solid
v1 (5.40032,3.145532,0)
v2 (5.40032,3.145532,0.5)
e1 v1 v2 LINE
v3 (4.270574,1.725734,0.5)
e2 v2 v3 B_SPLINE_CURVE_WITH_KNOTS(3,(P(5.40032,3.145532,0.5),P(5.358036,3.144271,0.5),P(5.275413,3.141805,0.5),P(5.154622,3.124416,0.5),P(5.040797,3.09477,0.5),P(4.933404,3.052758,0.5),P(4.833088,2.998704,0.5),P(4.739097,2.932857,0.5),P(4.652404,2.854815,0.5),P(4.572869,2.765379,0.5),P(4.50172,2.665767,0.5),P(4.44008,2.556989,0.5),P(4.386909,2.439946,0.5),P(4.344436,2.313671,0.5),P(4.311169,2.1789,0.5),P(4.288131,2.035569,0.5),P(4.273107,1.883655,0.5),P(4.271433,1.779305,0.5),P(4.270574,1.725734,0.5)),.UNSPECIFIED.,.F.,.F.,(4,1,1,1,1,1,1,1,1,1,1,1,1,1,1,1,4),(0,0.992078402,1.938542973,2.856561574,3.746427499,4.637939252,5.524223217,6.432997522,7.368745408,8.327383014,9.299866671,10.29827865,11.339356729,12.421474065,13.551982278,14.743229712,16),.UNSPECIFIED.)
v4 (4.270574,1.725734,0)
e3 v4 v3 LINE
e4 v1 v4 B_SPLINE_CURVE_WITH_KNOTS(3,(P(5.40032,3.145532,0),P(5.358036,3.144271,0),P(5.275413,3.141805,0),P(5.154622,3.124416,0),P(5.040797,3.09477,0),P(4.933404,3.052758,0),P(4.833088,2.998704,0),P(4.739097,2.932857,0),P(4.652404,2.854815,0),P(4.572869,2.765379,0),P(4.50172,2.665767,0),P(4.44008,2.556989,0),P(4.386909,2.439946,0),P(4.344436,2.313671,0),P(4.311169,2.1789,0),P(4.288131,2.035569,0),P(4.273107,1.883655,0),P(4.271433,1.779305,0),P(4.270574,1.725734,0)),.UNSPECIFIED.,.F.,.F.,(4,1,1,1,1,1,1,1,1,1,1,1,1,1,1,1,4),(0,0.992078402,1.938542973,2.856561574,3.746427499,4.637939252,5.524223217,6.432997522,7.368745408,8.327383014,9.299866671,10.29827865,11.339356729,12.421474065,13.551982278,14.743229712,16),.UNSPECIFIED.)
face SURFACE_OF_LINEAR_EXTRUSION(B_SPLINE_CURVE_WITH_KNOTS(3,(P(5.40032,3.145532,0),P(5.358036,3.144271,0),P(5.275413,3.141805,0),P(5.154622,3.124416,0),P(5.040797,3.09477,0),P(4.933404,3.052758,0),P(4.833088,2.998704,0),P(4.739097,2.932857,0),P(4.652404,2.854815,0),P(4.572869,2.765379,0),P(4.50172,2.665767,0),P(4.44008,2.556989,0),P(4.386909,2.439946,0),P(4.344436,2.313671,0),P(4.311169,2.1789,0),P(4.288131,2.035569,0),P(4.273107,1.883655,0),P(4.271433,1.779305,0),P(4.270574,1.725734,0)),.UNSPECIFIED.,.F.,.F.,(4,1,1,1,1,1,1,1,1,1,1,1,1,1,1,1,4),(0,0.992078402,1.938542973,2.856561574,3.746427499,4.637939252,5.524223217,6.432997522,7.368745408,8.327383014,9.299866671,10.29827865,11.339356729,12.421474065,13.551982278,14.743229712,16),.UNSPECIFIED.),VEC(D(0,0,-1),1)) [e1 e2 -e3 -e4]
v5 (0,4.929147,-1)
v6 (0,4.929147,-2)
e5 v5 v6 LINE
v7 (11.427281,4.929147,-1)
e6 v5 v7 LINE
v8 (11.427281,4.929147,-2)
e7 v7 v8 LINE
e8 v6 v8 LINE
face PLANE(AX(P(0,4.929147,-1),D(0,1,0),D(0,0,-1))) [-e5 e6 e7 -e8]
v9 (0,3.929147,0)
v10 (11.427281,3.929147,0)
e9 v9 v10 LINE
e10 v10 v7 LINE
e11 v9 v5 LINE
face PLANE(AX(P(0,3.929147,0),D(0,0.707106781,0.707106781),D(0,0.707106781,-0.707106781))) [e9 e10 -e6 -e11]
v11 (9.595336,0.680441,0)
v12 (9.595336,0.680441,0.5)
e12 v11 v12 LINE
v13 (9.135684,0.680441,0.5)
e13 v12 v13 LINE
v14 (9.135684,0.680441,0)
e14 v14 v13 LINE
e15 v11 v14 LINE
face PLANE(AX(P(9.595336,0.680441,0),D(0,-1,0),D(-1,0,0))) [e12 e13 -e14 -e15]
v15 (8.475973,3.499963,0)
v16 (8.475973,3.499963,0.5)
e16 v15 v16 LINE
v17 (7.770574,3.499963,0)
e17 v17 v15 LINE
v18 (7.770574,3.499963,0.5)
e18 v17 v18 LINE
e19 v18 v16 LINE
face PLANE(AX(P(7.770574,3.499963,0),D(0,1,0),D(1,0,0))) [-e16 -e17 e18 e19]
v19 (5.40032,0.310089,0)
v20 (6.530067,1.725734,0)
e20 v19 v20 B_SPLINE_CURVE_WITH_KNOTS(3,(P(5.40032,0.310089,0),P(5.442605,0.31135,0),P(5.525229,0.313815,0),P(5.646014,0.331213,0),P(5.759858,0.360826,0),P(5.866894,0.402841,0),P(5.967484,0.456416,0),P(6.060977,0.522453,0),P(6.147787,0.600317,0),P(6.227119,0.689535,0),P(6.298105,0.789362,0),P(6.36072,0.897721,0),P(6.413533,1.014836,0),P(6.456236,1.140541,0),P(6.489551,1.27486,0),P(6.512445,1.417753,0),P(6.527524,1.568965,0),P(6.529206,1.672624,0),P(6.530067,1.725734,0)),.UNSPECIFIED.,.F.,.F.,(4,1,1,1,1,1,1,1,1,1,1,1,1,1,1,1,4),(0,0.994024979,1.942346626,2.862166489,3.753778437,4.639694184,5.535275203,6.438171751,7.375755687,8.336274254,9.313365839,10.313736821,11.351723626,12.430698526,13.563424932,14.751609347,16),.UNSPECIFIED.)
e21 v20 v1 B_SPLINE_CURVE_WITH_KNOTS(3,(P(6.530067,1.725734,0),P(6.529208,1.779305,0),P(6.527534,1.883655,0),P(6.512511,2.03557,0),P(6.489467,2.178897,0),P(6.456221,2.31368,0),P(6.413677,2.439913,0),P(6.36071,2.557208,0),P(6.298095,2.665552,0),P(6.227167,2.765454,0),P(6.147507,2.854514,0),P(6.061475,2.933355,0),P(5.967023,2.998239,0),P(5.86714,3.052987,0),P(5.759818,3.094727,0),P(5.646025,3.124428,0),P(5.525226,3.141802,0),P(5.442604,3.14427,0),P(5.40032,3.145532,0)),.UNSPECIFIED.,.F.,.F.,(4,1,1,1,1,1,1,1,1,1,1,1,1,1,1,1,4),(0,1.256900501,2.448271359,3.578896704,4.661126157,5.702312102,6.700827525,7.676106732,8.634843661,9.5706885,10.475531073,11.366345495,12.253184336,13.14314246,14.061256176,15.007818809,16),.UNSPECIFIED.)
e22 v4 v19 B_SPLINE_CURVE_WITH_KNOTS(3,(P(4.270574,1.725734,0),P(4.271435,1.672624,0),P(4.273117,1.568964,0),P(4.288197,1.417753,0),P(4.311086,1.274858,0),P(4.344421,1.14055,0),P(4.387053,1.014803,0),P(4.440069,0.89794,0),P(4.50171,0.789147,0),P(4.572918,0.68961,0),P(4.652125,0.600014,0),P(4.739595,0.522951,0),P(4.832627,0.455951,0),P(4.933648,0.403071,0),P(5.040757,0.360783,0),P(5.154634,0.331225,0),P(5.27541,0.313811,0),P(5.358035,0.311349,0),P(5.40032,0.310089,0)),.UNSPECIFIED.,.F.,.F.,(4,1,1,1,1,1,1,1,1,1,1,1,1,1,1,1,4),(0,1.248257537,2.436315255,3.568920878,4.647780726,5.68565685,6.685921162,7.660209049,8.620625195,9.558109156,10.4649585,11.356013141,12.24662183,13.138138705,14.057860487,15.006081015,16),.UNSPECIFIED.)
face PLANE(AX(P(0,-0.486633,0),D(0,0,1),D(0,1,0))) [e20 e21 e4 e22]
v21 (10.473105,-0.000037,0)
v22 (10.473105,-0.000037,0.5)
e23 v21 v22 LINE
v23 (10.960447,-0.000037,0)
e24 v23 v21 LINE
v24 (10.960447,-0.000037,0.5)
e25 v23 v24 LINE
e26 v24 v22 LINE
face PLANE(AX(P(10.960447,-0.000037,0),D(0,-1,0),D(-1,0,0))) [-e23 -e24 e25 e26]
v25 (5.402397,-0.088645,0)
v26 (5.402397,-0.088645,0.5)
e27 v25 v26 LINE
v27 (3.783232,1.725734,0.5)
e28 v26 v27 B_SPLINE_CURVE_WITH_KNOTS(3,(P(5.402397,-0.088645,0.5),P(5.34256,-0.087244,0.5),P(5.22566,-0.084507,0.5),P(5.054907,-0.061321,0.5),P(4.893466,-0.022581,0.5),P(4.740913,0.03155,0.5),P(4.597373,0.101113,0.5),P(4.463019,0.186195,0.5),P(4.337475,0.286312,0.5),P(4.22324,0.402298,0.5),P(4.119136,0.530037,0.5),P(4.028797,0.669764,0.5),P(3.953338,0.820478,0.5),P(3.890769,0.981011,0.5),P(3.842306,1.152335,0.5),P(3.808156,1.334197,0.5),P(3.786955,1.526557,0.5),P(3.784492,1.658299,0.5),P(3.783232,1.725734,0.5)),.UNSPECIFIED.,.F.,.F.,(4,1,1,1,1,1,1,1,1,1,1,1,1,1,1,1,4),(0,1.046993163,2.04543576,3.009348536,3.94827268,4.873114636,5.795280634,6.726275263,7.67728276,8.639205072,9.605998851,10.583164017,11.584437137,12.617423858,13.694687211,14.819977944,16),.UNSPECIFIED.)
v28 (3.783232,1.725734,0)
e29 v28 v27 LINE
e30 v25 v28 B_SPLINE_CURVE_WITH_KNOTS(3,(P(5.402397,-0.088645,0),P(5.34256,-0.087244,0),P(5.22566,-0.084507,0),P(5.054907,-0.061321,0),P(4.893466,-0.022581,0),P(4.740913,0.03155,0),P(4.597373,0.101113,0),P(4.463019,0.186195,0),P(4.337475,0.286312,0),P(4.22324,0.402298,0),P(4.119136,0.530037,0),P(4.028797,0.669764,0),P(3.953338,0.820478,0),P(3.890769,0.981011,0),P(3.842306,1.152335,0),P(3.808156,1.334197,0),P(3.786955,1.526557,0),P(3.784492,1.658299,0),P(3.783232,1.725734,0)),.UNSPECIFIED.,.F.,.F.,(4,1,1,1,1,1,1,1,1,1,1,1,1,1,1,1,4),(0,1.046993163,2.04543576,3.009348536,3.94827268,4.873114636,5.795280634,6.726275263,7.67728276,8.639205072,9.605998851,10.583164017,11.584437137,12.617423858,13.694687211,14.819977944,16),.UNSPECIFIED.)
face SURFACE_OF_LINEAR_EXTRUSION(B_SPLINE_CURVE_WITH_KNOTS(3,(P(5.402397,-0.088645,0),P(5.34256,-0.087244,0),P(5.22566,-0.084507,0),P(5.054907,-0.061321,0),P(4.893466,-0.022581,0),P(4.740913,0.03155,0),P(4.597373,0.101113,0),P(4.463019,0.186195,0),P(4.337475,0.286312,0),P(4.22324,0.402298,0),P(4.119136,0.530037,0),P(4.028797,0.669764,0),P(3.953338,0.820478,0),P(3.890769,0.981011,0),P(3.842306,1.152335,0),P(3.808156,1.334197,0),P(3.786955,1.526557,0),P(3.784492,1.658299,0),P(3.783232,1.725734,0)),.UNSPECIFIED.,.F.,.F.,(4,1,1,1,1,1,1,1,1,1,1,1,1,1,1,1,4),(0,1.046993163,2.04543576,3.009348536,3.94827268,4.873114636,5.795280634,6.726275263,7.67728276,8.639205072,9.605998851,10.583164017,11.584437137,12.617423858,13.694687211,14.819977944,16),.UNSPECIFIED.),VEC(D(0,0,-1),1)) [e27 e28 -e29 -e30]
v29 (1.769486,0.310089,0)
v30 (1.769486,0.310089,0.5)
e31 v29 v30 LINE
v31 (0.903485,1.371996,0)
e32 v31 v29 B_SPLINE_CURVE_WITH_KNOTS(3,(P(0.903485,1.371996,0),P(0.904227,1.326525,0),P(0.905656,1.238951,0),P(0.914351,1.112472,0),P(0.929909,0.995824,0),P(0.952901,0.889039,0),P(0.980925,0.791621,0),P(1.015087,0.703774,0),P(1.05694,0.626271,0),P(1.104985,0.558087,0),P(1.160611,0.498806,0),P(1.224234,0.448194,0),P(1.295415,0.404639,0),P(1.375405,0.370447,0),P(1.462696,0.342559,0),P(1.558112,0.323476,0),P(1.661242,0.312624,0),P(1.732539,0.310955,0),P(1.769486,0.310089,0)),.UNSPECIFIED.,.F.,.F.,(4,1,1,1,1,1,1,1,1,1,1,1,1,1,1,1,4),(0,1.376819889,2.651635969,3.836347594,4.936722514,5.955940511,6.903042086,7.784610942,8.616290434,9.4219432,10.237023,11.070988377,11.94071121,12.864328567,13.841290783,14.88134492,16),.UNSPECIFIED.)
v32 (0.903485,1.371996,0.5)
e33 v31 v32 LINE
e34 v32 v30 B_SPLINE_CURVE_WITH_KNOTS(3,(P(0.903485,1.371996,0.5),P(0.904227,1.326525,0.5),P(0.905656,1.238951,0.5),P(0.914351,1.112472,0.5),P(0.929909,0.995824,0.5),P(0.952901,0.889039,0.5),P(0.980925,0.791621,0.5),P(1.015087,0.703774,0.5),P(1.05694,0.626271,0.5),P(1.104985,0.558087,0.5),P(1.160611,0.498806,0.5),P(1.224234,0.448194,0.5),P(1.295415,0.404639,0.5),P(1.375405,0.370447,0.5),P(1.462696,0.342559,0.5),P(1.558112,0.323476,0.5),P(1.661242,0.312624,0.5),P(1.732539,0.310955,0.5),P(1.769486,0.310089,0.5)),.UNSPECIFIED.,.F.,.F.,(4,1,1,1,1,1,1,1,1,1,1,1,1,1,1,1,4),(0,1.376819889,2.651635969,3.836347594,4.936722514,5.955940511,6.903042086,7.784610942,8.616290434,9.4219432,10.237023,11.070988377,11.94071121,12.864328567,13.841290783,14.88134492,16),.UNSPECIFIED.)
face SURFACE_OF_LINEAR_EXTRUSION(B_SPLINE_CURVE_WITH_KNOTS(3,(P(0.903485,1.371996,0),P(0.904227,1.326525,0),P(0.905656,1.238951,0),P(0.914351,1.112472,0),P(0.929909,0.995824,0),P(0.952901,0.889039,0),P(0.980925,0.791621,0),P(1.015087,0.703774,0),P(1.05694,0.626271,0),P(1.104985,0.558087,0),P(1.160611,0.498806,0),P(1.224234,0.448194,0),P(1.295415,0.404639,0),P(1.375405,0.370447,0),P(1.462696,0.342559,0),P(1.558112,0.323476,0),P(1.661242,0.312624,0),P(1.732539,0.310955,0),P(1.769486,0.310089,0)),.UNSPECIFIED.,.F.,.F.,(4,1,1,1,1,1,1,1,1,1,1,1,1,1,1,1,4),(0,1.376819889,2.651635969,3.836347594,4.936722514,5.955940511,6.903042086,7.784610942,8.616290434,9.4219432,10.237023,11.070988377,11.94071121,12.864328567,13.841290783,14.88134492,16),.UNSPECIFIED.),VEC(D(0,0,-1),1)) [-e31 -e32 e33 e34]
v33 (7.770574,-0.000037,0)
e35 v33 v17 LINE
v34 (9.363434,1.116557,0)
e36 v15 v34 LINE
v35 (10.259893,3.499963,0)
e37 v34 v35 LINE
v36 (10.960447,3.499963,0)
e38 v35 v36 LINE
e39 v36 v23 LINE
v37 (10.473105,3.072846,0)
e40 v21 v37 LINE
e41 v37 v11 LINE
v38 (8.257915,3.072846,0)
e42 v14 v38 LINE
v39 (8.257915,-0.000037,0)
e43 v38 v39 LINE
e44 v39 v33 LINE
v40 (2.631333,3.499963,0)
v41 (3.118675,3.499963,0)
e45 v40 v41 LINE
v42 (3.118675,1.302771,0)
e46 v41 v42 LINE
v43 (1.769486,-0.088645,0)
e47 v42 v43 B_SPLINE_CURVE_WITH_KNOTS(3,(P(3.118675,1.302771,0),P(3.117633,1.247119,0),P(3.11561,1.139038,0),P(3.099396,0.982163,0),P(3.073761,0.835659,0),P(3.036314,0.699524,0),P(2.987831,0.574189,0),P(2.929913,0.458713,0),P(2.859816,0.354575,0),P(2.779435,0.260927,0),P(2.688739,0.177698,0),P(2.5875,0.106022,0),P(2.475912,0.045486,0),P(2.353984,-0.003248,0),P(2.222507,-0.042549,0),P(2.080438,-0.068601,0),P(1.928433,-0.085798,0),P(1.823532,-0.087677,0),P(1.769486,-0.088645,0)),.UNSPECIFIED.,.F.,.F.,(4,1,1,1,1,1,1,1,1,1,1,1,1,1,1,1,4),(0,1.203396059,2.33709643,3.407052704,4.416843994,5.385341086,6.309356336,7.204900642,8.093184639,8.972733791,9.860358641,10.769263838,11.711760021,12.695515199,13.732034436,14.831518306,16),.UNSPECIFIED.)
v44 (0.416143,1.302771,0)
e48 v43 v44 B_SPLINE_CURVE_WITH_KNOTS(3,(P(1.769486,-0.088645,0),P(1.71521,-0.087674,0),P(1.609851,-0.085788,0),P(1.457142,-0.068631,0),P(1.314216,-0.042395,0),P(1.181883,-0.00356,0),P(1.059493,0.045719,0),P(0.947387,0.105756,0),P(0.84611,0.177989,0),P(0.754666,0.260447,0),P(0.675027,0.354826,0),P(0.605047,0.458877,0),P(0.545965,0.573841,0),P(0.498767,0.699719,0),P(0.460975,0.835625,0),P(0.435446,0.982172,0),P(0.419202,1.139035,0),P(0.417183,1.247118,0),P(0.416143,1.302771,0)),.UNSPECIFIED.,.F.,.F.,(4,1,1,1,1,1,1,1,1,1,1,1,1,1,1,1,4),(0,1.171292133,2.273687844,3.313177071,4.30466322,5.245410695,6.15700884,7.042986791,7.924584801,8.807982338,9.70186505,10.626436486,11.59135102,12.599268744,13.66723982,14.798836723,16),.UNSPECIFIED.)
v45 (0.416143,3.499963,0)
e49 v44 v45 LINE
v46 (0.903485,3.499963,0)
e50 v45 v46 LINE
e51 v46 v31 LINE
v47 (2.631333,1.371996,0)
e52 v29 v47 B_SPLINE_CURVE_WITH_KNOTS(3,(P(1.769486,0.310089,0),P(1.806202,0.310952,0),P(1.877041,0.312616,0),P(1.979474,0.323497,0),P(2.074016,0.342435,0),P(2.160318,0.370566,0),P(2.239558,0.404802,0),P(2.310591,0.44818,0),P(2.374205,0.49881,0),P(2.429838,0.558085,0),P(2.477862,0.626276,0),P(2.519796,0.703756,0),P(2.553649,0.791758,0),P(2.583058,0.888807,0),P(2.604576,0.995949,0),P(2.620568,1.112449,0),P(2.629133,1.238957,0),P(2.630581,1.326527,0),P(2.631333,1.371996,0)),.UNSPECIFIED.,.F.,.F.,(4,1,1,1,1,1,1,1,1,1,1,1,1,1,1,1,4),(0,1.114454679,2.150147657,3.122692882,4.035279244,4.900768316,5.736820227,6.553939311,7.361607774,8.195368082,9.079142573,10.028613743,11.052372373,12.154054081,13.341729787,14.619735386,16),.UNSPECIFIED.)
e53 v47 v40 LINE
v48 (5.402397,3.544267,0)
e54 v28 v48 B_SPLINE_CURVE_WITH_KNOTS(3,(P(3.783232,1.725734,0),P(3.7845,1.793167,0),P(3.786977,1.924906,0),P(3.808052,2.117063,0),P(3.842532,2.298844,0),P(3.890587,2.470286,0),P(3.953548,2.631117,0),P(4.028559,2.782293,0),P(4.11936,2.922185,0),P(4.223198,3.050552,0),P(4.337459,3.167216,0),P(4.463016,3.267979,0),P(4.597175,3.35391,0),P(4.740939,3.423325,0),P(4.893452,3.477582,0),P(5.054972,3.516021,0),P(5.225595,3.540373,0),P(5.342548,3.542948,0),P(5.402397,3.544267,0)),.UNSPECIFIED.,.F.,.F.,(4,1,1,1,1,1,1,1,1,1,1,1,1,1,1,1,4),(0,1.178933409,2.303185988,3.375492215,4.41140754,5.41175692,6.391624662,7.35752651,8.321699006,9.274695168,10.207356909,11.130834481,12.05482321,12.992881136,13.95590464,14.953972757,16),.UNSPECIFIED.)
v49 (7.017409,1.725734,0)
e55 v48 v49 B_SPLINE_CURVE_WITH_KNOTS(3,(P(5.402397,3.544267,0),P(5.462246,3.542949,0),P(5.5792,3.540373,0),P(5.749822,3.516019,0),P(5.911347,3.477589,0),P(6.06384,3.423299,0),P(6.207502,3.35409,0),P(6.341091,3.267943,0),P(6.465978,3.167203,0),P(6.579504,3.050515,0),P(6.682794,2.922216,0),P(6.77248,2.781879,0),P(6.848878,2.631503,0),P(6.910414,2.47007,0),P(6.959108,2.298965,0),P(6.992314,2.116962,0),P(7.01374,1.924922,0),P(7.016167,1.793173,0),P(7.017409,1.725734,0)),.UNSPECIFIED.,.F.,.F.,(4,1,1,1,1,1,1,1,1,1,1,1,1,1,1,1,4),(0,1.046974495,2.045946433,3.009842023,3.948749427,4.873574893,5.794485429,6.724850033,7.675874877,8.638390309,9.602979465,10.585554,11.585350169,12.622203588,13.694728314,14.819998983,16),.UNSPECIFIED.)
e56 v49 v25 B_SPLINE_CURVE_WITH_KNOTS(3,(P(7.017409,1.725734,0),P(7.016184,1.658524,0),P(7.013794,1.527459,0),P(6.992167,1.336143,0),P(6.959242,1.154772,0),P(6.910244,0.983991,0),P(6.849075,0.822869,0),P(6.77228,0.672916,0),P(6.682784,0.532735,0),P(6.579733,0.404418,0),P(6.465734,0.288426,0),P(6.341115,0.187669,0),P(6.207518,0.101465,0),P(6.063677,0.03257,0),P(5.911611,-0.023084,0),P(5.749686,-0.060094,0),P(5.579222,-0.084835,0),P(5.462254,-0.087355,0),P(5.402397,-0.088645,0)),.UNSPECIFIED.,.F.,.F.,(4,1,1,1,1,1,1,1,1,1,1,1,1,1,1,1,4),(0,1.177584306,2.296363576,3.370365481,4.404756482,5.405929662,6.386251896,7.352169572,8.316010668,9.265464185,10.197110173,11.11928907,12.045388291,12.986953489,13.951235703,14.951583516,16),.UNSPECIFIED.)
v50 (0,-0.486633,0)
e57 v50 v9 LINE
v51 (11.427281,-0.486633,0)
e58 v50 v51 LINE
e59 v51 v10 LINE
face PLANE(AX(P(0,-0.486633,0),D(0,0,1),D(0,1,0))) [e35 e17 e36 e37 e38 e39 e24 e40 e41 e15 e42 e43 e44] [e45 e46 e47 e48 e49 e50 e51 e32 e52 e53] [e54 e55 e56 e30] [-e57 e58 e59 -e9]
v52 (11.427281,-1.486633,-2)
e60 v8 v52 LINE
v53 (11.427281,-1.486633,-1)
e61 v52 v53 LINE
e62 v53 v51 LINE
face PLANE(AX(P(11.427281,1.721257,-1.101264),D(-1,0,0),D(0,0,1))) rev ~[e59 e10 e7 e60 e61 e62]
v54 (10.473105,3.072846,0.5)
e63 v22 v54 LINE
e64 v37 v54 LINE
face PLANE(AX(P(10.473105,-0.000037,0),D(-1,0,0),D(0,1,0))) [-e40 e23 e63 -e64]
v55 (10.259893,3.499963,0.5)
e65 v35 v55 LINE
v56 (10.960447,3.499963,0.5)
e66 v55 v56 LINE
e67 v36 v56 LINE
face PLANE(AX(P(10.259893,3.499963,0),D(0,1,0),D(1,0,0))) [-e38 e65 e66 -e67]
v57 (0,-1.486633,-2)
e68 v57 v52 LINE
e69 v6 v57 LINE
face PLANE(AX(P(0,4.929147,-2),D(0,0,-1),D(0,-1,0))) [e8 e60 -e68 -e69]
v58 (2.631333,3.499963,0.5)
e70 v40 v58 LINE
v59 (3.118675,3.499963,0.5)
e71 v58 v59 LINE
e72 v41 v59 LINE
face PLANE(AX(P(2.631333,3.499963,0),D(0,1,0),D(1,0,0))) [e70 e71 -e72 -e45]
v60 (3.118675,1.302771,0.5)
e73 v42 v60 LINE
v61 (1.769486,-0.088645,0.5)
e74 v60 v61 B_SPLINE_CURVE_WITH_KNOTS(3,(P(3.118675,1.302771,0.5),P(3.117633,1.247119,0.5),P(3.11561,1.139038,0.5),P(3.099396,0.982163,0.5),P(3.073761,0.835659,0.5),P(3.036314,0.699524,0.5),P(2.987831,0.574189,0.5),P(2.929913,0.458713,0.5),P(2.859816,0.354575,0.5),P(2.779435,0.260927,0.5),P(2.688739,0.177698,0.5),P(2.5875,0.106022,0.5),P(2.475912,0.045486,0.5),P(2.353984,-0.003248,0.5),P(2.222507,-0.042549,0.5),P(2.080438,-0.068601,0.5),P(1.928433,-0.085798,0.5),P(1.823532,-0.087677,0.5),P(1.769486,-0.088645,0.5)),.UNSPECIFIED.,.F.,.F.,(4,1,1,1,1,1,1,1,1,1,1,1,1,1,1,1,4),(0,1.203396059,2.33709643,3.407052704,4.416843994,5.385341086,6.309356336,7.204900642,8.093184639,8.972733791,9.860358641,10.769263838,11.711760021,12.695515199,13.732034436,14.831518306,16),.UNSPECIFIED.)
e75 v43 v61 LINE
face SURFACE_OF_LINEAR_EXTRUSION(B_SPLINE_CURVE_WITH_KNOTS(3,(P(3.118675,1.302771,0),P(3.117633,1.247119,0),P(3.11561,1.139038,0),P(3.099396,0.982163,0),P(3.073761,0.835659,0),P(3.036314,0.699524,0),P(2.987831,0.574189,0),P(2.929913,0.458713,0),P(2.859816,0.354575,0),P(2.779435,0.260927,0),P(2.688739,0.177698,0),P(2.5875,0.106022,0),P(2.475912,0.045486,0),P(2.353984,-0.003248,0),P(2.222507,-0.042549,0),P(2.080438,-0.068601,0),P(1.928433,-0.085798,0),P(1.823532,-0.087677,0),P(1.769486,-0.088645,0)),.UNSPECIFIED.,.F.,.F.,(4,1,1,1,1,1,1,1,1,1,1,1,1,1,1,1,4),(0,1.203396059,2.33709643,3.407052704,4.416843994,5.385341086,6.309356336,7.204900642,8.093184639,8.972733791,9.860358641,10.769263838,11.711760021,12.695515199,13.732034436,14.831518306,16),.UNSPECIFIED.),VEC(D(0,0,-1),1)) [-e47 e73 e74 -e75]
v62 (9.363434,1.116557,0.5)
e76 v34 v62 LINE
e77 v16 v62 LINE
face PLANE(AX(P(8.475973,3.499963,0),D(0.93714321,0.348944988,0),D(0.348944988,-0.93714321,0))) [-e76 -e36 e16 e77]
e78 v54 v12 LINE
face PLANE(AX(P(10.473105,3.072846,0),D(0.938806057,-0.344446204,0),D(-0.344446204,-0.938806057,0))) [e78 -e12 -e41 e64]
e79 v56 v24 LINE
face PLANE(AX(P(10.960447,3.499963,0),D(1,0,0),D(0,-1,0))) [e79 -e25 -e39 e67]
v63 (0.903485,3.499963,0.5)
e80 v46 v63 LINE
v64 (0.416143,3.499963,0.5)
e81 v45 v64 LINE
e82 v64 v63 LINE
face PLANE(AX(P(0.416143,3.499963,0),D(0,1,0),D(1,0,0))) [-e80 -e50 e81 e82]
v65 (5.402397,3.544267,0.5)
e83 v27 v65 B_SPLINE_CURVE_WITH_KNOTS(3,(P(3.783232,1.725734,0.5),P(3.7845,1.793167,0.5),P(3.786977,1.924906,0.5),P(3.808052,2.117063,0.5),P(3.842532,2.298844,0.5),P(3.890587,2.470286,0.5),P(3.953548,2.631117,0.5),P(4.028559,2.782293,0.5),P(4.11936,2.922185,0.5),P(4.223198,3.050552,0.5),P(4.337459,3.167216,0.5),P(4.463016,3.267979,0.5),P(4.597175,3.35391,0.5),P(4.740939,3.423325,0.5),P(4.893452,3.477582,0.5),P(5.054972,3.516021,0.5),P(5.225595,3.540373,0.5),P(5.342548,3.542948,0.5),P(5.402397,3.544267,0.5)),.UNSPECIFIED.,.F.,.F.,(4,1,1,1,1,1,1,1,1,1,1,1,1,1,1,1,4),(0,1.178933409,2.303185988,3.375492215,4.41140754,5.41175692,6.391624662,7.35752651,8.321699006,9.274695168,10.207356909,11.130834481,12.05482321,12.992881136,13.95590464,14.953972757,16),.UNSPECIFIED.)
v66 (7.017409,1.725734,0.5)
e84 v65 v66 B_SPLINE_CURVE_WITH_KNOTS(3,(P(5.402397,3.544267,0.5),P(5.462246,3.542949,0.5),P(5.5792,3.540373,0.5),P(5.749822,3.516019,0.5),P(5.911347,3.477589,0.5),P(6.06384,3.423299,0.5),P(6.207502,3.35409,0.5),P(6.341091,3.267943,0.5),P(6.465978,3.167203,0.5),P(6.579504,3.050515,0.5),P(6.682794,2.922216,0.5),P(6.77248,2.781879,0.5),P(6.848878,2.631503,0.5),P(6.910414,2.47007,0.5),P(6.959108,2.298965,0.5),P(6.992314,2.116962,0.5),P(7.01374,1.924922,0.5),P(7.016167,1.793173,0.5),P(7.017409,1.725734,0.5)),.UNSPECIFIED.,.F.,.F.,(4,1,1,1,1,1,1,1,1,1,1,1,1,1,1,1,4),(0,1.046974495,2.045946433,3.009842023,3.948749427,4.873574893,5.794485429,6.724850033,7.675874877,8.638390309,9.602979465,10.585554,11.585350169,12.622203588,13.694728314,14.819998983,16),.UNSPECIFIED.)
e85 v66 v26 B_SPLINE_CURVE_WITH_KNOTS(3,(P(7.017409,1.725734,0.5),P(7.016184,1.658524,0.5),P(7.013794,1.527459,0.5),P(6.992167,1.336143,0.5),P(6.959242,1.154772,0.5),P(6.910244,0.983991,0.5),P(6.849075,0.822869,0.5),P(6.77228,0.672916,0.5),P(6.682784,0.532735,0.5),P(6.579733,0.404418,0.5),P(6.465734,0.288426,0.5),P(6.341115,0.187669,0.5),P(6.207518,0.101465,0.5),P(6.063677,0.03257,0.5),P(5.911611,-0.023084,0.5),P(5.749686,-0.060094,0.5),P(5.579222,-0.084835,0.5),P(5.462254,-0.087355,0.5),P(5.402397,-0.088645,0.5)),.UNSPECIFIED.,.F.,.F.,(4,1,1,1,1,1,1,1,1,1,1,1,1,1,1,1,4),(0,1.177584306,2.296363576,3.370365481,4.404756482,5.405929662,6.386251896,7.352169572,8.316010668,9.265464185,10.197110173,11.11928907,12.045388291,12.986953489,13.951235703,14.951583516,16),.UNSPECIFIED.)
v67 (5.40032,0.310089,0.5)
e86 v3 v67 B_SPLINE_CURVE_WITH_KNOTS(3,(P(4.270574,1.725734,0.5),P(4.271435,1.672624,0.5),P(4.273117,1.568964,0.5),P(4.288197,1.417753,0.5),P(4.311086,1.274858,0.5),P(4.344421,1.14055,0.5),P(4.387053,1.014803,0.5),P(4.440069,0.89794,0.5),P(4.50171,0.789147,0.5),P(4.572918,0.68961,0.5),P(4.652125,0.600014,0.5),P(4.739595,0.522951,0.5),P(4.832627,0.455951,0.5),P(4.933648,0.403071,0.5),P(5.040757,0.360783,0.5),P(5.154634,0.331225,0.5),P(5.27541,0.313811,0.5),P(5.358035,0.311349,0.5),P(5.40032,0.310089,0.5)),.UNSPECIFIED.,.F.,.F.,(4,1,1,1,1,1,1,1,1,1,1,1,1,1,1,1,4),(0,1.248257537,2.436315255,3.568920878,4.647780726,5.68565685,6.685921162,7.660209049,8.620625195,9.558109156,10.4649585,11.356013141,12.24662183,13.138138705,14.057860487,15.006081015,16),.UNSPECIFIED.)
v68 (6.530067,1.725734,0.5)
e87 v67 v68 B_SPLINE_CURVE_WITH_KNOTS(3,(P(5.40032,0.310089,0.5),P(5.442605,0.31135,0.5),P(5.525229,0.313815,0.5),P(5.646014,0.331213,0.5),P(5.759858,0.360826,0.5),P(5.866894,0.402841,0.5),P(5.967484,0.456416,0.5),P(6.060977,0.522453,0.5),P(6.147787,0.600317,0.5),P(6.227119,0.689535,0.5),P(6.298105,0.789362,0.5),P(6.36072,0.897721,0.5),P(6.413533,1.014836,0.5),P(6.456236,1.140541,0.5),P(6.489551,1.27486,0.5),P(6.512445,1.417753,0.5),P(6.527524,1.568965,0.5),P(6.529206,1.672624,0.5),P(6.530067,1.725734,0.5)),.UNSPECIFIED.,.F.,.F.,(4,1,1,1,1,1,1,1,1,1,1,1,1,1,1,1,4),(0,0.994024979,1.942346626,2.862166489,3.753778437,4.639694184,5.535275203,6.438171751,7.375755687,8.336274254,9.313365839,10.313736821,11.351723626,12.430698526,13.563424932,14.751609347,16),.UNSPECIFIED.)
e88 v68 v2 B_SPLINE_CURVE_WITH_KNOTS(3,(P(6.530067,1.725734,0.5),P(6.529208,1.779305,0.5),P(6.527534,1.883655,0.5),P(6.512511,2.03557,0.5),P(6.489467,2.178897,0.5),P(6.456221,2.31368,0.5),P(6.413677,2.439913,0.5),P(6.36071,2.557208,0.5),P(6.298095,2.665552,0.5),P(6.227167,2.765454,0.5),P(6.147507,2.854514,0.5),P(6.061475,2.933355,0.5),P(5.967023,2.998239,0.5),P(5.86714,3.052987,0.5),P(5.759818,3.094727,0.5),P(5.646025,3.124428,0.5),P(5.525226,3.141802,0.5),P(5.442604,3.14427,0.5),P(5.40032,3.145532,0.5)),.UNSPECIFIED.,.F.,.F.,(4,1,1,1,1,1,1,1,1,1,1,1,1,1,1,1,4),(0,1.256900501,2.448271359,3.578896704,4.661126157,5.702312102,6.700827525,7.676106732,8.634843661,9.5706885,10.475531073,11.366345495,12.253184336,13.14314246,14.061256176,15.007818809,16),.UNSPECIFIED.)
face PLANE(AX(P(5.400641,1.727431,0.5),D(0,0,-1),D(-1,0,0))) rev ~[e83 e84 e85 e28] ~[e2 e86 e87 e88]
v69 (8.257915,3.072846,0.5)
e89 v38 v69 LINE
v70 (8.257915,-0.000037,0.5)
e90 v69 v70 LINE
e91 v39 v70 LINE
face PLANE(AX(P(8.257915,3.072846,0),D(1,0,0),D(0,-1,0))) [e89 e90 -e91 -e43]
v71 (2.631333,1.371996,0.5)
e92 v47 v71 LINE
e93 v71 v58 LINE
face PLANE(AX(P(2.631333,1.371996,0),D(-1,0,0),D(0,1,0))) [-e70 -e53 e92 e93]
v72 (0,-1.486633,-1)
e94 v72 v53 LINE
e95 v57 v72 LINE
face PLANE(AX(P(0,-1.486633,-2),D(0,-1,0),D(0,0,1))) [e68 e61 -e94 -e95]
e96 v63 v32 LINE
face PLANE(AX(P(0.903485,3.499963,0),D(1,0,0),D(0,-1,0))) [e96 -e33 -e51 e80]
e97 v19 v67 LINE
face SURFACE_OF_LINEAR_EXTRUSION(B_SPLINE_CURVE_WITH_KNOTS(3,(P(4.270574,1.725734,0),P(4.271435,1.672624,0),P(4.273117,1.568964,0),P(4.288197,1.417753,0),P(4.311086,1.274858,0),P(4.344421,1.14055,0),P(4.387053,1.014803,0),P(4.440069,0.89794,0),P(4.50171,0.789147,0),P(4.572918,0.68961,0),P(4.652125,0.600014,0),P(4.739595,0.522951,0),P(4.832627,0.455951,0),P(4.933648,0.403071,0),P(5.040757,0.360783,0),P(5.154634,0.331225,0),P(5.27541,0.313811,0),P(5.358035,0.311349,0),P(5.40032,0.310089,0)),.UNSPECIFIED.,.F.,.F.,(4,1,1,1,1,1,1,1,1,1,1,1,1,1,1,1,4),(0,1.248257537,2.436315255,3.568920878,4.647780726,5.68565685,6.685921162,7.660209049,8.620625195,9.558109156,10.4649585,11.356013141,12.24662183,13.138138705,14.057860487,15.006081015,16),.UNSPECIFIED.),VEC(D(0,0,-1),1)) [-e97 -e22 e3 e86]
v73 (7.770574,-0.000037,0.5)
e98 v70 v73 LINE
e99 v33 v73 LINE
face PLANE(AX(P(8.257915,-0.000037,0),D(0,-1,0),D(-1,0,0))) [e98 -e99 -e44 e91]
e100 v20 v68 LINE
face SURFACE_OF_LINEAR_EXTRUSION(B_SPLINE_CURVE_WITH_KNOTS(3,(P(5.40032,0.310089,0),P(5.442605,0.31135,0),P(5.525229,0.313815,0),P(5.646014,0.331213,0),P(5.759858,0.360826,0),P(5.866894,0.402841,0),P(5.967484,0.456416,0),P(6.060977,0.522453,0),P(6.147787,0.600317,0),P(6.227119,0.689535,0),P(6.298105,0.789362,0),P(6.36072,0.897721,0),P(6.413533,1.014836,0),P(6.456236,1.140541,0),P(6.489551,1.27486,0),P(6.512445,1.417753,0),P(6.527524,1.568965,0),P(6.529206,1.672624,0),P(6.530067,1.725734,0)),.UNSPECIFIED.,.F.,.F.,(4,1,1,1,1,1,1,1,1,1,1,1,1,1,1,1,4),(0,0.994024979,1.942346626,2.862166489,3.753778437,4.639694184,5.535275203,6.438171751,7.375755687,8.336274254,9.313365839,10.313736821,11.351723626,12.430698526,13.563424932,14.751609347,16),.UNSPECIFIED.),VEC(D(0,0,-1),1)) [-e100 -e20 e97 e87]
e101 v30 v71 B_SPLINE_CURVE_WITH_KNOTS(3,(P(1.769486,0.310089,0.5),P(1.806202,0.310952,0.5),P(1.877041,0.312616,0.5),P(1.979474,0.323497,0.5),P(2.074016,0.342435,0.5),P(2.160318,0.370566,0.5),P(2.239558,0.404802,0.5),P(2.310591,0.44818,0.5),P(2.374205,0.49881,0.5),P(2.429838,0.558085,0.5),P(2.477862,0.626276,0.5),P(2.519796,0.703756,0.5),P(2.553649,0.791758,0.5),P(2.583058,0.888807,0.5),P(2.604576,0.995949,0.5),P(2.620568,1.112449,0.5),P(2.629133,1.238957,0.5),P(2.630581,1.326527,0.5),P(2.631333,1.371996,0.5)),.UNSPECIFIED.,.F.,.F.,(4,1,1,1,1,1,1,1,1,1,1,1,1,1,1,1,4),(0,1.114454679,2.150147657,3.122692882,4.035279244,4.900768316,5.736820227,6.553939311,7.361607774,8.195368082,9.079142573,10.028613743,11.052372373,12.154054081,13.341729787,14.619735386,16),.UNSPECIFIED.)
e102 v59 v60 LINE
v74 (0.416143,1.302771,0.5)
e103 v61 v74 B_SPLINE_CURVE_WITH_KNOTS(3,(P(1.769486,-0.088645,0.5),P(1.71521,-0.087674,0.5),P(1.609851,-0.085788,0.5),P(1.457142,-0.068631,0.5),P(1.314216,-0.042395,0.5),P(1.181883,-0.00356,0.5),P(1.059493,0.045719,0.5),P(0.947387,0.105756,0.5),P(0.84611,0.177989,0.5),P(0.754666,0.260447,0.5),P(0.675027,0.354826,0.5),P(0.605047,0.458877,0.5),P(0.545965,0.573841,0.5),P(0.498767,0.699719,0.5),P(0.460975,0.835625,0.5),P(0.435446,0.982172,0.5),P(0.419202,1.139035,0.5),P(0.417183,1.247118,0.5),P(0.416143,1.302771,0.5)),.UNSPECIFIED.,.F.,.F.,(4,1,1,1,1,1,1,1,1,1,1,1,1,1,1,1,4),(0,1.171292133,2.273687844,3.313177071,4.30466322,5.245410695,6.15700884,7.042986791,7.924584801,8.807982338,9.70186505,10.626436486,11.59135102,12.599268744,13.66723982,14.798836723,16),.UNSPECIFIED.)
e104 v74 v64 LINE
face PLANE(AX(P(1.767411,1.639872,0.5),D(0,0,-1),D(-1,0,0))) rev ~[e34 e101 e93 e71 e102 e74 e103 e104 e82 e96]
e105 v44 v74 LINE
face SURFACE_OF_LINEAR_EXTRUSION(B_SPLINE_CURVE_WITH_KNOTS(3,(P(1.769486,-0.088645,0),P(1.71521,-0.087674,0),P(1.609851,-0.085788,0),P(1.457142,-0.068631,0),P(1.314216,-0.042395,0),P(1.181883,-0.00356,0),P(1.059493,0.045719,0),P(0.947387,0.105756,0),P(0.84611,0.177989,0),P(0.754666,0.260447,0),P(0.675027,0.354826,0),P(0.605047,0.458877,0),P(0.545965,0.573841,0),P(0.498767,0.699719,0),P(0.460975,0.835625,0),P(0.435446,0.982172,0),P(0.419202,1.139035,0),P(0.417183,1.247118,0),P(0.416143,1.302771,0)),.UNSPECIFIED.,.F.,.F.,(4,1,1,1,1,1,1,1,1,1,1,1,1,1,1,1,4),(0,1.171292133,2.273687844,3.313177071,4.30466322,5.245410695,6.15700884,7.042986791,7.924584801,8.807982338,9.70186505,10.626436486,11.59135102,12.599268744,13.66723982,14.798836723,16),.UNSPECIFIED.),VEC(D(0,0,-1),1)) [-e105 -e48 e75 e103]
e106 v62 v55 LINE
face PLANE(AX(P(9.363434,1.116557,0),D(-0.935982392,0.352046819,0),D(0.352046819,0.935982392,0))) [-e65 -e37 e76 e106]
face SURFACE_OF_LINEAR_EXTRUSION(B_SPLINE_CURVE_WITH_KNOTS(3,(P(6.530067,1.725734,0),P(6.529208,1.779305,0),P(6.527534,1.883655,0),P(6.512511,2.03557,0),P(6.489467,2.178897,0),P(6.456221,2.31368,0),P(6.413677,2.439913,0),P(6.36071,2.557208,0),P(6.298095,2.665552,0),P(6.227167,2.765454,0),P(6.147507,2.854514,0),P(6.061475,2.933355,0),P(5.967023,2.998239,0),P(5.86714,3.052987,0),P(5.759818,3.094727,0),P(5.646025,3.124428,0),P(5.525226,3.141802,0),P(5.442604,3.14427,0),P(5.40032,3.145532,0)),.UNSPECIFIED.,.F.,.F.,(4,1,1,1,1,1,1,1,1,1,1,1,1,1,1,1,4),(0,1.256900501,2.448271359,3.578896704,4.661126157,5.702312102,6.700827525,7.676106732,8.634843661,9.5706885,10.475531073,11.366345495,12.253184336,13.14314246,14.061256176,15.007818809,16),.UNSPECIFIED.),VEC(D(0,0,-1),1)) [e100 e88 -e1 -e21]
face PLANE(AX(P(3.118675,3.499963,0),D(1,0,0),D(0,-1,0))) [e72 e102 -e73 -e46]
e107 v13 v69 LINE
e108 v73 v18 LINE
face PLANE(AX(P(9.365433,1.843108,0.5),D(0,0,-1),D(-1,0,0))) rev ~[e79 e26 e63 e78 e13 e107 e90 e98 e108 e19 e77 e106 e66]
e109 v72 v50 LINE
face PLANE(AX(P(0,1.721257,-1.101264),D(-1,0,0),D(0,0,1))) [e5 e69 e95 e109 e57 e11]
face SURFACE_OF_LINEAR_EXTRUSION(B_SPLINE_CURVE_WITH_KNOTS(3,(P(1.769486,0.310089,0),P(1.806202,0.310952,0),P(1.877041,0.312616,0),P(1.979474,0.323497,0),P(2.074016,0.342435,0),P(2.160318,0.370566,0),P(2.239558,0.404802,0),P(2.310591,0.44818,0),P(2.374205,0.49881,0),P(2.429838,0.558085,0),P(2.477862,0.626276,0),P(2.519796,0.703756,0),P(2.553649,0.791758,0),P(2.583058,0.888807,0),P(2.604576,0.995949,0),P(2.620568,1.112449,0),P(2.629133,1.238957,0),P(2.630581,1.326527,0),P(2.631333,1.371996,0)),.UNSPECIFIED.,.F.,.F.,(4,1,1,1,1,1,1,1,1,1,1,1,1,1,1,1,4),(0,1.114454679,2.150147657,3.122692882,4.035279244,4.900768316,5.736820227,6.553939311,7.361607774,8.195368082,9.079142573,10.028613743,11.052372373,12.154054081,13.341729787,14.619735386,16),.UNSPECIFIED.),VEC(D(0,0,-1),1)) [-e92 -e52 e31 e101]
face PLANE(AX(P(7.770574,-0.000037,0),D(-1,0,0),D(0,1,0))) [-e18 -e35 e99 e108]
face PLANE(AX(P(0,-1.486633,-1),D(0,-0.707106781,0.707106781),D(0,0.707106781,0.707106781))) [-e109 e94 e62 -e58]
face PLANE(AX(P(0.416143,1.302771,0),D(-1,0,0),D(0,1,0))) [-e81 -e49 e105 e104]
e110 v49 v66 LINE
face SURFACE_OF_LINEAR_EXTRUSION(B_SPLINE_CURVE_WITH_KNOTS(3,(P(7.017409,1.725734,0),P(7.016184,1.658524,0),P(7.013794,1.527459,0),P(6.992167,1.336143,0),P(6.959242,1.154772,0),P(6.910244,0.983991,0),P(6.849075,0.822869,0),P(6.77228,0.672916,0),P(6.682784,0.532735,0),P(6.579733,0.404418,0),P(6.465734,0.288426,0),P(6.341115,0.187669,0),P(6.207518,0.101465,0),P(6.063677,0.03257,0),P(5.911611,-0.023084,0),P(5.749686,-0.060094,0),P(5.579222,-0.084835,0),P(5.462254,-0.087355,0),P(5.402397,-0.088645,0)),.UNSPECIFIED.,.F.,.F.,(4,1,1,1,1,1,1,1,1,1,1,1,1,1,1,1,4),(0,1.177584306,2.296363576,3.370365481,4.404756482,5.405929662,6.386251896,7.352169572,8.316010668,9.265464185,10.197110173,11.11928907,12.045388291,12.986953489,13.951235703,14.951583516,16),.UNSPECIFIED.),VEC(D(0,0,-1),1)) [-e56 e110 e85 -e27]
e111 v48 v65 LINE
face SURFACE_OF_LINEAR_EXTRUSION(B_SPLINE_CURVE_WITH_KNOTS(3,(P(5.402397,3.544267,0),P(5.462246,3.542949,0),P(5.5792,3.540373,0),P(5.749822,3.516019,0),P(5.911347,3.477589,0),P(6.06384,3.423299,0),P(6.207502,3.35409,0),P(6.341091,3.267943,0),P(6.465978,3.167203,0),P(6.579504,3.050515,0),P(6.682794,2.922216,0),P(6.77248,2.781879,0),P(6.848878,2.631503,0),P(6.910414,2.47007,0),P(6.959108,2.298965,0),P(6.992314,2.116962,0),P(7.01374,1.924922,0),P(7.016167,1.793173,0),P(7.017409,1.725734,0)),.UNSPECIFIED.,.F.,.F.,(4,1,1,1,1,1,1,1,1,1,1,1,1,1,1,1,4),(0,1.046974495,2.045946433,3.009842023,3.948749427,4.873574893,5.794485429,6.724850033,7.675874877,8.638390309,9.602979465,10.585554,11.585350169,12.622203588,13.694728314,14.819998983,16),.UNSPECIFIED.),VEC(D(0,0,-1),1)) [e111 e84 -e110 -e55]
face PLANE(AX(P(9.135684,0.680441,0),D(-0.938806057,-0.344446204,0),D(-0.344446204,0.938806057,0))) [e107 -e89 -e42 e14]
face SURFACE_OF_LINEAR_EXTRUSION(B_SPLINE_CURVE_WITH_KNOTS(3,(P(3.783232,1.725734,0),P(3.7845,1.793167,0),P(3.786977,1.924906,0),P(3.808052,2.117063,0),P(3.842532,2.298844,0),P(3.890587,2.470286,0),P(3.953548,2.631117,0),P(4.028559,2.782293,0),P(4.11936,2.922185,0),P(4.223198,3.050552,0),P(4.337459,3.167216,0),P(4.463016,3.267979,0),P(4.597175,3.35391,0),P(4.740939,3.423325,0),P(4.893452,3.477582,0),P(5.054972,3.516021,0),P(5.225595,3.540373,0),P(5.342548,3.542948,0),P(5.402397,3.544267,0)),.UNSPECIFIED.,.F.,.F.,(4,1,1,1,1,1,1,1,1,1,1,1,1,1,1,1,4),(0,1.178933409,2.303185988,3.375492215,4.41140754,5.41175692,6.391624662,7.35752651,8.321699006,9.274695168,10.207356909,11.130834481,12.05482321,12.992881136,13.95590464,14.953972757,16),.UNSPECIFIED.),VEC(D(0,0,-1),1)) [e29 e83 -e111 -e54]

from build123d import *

# Parameters (mm, degrees)
BOSS_EXTRUDE5_DEPTH = 11.427281
BOSS_EXTRUDE6_DEPTH = 0.5


with BuildPart() as part:
    # Sketch6 → Boss-Extrude5 (new body)
    with BuildSketch(Plane(origin=(0, 0, 0), x_dir=(0, 0, -1), z_dir=(1, 0, 0))):
        Polygon((1, 4.929146991), (2, 4.929146991), (2, -1.486632629), (1, -1.486632629), (0, -0.486632629), (0, 3.929146991), align=None)
    extrude(amount=BOSS_EXTRUDE5_DEPTH)

    # Sketch3 → Boss-Extrude6 (add)
    # profile 1 of 3: a face of its own
    with BuildSketch(Plane.XY):
        with BuildLine():
            Line((0.416143204, 3.499962788), (0.903484976, 3.499962788))
            Line((0.903484976, 3.499962788), (0.903484976, 1.371996016))
            add(Edge.make_bspline(
                [(0.903484976, 1.371996016), (0.904227086, 1.326524703), (0.905656325, 1.238950888), (0.914351034, 1.112472094), (0.929908885, 0.995823754), (0.952901435, 0.88903938), (0.980924682, 0.791621238), (1.015086709, 0.703774074), (1.056939832, 0.626271366), (1.104984797, 0.558086727), (1.160610571, 0.498806201), (1.224233651, 0.448193549), (1.295415202, 0.404639357), (1.375404867, 0.37044697), (1.462695851, 0.342558961), (1.558111742, 0.323476327), (1.661242149, 0.312624163), (1.732539226, 0.310954566), (1.769485767, 0.310089371)],
                knots=[0, 0, 0, 0, 1.376819889, 2.651635969, 3.836347594, 4.936722514, 5.955940511, 6.903042086, 7.784610942, 8.616290434, 9.4219432, 10.237023, 11.070988377, 11.94071121, 12.864328567, 13.841290783, 14.88134492, 16, 16, 16, 16], degree=3))
            add(Edge.make_bspline(
                [(1.769485767, 0.310089371), (1.806202381, 0.310952028), (1.877040741, 0.312616375), (1.979473884, 0.323496618), (2.074016457, 0.342434724), (2.160317672, 0.37056602), (2.239557597, 0.404801908), (2.310591352, 0.448180089), (2.374204682, 0.498809996), (2.42983769, 0.558084657), (2.477862395, 0.62627603), (2.519795758, 0.703755997), (2.553648868, 0.791757514), (2.583057817, 0.888807287), (2.604576184, 0.995949131), (2.620568037, 1.112448839), (2.62913327, 1.238957439), (2.630581241, 1.326526942), (2.631333077, 1.371996016)],
                knots=[0, 0, 0, 0, 1.114454679, 2.150147657, 3.122692882, 4.035279244, 4.900768316, 5.736820227, 6.553939311, 7.361607774, 8.195368082, 9.079142573, 10.028613743, 11.052372373, 12.154054081, 13.341729787, 14.619735386, 16, 16, 16, 16], degree=3))
            Line((2.631333077, 1.371996016), (2.631333077, 3.499962788))
            Line((2.631333077, 3.499962788), (3.118674849, 3.499962788))
            Line((3.118674849, 3.499962788), (3.118674849, 1.302771333))
            add(Edge.make_bspline(
                [(3.118674849, 1.302771333), (3.117632966, 1.247119199), (3.115609542, 1.139038072), (3.099395772, 0.982162679), (3.073760625, 0.835658607), (3.03631439, 0.699523534), (2.987830531, 0.574188519), (2.929913308, 0.458712614), (2.859816087, 0.354574755), (2.77943465, 0.260926992), (2.688738665, 0.177698385), (2.587499929, 0.10602186), (2.475912337, 0.045485903), (2.353984334, -0.003248427), (2.222507035, -0.042549241), (2.080438371, -0.068601387), (1.92843276, -0.085798259), (1.82353189, -0.087676906), (1.769485767, -0.088644806)],
                knots=[0, 0, 0, 0, 1.203396059, 2.33709643, 3.407052704, 4.416843994, 5.385341086, 6.309356336, 7.204900642, 8.093184639, 8.972733791, 9.860358641, 10.769263838, 11.711760021, 12.695515199, 13.732034436, 14.831518306, 16, 16, 16, 16], degree=3))
            add(Edge.make_bspline(
                [(1.769485767, -0.088644806), (1.71521014, -0.087673568), (1.609851426, -0.085788222), (1.457142055, -0.068631325), (1.314216014, -0.042395163), (1.181883322, -0.003559879), (1.059492843, 0.045718996), (0.947387007, 0.105755521), (0.846109761, 0.177988639), (0.75466648, 0.26044674), (0.675027309, 0.354825839), (0.605047005, 0.458877246), (0.545964542, 0.573840725), (0.498766704, 0.699718527), (0.460974682, 0.835625191), (0.435446342, 0.982172396), (0.419201909, 1.139035406), (0.417182842, 1.247118293), (0.416143204, 1.302771333)],
                knots=[0, 0, 0, 0, 1.171292133, 2.273687844, 3.313177071, 4.30466322, 5.245410695, 6.15700884, 7.042986791, 7.924584801, 8.807982338, 9.70186505, 10.626436486, 11.59135102, 12.599268744, 13.66723982, 14.798836723, 16, 16, 16, 16], degree=3))
            Line((0.416143204, 1.302771333), (0.416143204, 3.499962788))
        make_face()
    # profile 2 of 3: a face of its own
    with BuildSketch(Plane.XY):
        with BuildLine():
            add(Edge.make_bspline(
                [(5.402397159, 3.544266586), (5.462246122, 3.542948612), (5.579200043, 3.540373092), (5.749821524, 3.516018599), (5.911346929, 3.477588836), (6.063839721, 3.423299268), (6.207501548, 3.35408974), (6.341090707, 3.26794254), (6.465977946, 3.167203043), (6.57950417, 3.050514604), (6.682793918, 2.922216447), (6.772480012, 2.781879471), (6.848877785, 2.63150278), (6.910413596, 2.47007031), (6.959107704, 2.298965057), (6.992313654, 2.116961877), (7.013739577, 1.924922192), (7.016166669, 1.793172801), (7.017409026, 1.725734149)],
                knots=[0, 0, 0, 0, 1.046974495, 2.045946433, 3.009842023, 3.948749427, 4.873574893, 5.794485429, 6.724850033, 7.675874877, 8.638390309, 9.602979465, 10.585554, 11.585350169, 12.622203588, 13.694728314, 14.819998983, 16, 16, 16, 16], degree=3))
            add(Edge.make_bspline(
                [(7.017409026, 1.725734149), (7.016183724, 1.658523681), (7.013794306, 1.527459035), (6.992167411, 1.336142779), (6.959242213, 1.154771949), (6.910243582, 0.9839908), (6.849074922, 0.822869328), (6.772280141, 0.672915871), (6.682784418, 0.532734916), (6.579732711, 0.404417634), (6.465733721, 0.288426434), (6.34111492, 0.187668849), (6.20751823, 0.101465273), (6.063677323, 0.032569648), (5.911610665, -0.023084389), (5.749686437, -0.060093933), (5.579221976, -0.084834545), (5.462253547, -0.087355008), (5.402397159, -0.088644806)],
                knots=[0, 0, 0, 0, 1.177584306, 2.296363576, 3.370365481, 4.404756482, 5.405929662, 6.386251896, 7.352169572, 8.316010668, 9.265464185, 10.197110173, 11.11928907, 12.045388291, 12.986953489, 13.951235703, 14.951583516, 16, 16, 16, 16], degree=3))
            add(Edge.make_bspline(
                [(5.402397159, -0.088644806), (5.342559768, -0.087243888), (5.22565973, -0.084507014), (5.054907212, -0.06132131), (4.893466487, -0.022581169), (4.740913242, 0.031549646), (4.597373281, 0.101113043), (4.463019213, 0.186195092), (4.337474868, 0.286312005), (4.223239698, 0.402297965), (4.119135691, 0.530036826), (4.028797089, 0.669763824), (3.953338421, 0.820478357), (3.890768592, 0.981010653), (3.842305583, 1.152335357), (3.808156093, 1.334197343), (3.786955336, 1.526557072), (3.784492477, 1.65829921), (3.783231811, 1.725734149)],
                knots=[0, 0, 0, 0, 1.046993163, 2.04543576, 3.009348536, 3.94827268, 4.873114636, 5.795280634, 6.726275263, 7.67728276, 8.639205072, 9.605998851, 10.583164017, 11.584437137, 12.617423858, 13.694687211, 14.819977944, 16, 16, 16, 16], degree=3))
            add(Edge.make_bspline(
                [(3.783231811, 1.725734149), (3.784499678, 1.793167465), (3.786976606, 1.924906431), (3.808052274, 2.117063164), (3.842532146, 2.298844092), (3.890587304, 2.4702857), (3.953548456, 2.63111657), (4.028558923, 2.782292585), (4.119360297, 2.922184769), (4.223197774, 3.050551981), (4.337458654, 3.167215801), (4.463016032, 3.267978548), (4.597174521, 3.353910321), (4.740938987, 3.42332509), (4.893451716, 3.477581678), (5.054971582, 3.516020604), (5.2255946, 3.540372555), (5.342548306, 3.54294843), (5.402397159, 3.544266586)],
                knots=[0, 0, 0, 0, 1.178933409, 2.303185988, 3.375492215, 4.41140754, 5.41175692, 6.391624662, 7.35752651, 8.321699006, 9.274695168, 10.207356909, 11.130834481, 12.05482321, 12.992881136, 13.95590464, 14.953972757, 16, 16, 16, 16], degree=3))
        make_face()
        with BuildLine():
            add(Edge.make_bspline(
                [(5.400320419, 3.145532409), (5.35803641, 3.14427069), (5.27541253, 3.141805264), (5.154622477, 3.124415503), (5.040796804, 3.094770228), (4.933403863, 3.052757792), (4.833088358, 2.998703881), (4.739097158, 2.932857447), (4.652403926, 2.854815258), (4.572869424, 2.765379259), (4.501719741, 2.665767382), (4.440079646, 2.55698884), (4.386908752, 2.439945508), (4.344436085, 2.313670722), (4.311169081, 2.178899707), (4.288130717, 2.035568821), (4.273106925, 1.883655163), (4.271432966, 1.779305484), (4.270573583, 1.725734149)],
                knots=[0, 0, 0, 0, 0.992078402, 1.938542973, 2.856561574, 3.746427499, 4.637939252, 5.524223217, 6.432997522, 7.368745408, 8.327383014, 9.299866671, 10.29827865, 11.339356729, 12.421474065, 13.551982278, 14.743229712, 16, 16, 16, 16], degree=3))
            add(Edge.make_bspline(
                [(4.270573583, 1.725734149), (4.271435175, 1.672623784), (4.273116806, 1.568964413), (4.288197128, 1.417753347), (4.311085619, 1.274857783), (4.344420664, 1.140549714), (4.387052766, 1.014803381), (4.440069416, 0.897940197), (4.501709798, 0.789146996), (4.57291796, 0.689609896), (4.652124511, 0.600014393), (4.739595317, 0.522951233), (4.832626534, 0.455951117), (4.933648368, 0.403070886), (5.040757185, 0.360783207), (5.154633534, 0.33122535), (5.275409573, 0.313811414), (5.358035409, 0.311349362), (5.400320419, 0.310089371)],
                knots=[0, 0, 0, 0, 1.248257537, 2.436315255, 3.568920878, 4.647780726, 5.68565685, 6.685921162, 7.660209049, 8.620625195, 9.558109156, 10.4649585, 11.356013141, 12.24662183, 13.138138705, 14.057860487, 15.006081015, 16, 16, 16, 16], degree=3))
            add(Edge.make_bspline(
                [(5.400320419, 0.310089371), (5.442604788, 0.311350447), (5.525229374, 0.313814618), (5.646014372, 0.331213368), (5.759858322, 0.36082614), (5.866893881, 0.402841381), (5.967484462, 0.456415555), (6.060976588, 0.522453192), (6.147787085, 0.600316817), (6.227118702, 0.689535237), (6.298104952, 0.789362494), (6.360719863, 0.897721104), (6.413532899, 1.014835582), (6.45623582, 1.140540581), (6.48955073, 1.274860403), (6.512444996, 1.417752597), (6.527523684, 1.568964615), (6.529205545, 1.672623853), (6.530067254, 1.725734149)],
                knots=[0, 0, 0, 0, 0.994024979, 1.942346626, 2.862166489, 3.753778437, 4.639694184, 5.535275203, 6.438171751, 7.375755687, 8.336274254, 9.313365839, 10.313736821, 11.351723626, 12.430698526, 13.563424932, 14.751609347, 16, 16, 16, 16], degree=3))
            add(Edge.make_bspline(
                [(6.530067254, 1.725734149), (6.529207753, 1.779305414), (6.527533561, 1.883654958), (6.512511413, 2.035569575), (6.489467259, 2.178897083), (6.456220518, 2.313679923), (6.41367661, 2.439913134), (6.360709572, 2.557207896), (6.298094939, 2.665551865), (6.22716738, 2.76545382), (6.147506692, 2.854513751), (6.061474862, 2.933355261), (5.967022545, 2.998239032), (5.867139571, 3.052987268), (5.759818468, 3.094727141), (5.646025495, 3.124427529), (5.525226399, 3.141802048), (5.442603781, 3.144269602), (5.400320419, 3.145532409)],
                knots=[0, 0, 0, 0, 1.256900501, 2.448271359, 3.578896704, 4.661126157, 5.702312102, 6.700827525, 7.676106732, 8.634843661, 9.5706885, 10.475531073, 11.366345495, 12.253184336, 13.14314246, 14.061256176, 15.007818809, 16, 16, 16, 16], degree=3))
        make_face(mode=Mode.SUBTRACT)
    # profile 3 of 3: a face of its own
    with BuildSketch(Plane.XY):
        Polygon((7.770573583, 3.499962788), (8.475973109, 3.499962788), (9.363433552, 1.116556934), (10.259893204, 3.499962788), (10.960447001, 3.499962788), (10.960447001, -3.7212e-05), (10.473105229, -3.7212e-05), (10.473105229, 3.072846491), (9.595336242, 0.680441428), (9.135684343, 0.680441428), (8.257915355, 3.072846491), (8.257915355, -3.7212e-05), (7.770573583, -3.7212e-05), align=None)
    extrude(amount=BOSS_EXTRUDE6_DEPTH)


solid = part.part
